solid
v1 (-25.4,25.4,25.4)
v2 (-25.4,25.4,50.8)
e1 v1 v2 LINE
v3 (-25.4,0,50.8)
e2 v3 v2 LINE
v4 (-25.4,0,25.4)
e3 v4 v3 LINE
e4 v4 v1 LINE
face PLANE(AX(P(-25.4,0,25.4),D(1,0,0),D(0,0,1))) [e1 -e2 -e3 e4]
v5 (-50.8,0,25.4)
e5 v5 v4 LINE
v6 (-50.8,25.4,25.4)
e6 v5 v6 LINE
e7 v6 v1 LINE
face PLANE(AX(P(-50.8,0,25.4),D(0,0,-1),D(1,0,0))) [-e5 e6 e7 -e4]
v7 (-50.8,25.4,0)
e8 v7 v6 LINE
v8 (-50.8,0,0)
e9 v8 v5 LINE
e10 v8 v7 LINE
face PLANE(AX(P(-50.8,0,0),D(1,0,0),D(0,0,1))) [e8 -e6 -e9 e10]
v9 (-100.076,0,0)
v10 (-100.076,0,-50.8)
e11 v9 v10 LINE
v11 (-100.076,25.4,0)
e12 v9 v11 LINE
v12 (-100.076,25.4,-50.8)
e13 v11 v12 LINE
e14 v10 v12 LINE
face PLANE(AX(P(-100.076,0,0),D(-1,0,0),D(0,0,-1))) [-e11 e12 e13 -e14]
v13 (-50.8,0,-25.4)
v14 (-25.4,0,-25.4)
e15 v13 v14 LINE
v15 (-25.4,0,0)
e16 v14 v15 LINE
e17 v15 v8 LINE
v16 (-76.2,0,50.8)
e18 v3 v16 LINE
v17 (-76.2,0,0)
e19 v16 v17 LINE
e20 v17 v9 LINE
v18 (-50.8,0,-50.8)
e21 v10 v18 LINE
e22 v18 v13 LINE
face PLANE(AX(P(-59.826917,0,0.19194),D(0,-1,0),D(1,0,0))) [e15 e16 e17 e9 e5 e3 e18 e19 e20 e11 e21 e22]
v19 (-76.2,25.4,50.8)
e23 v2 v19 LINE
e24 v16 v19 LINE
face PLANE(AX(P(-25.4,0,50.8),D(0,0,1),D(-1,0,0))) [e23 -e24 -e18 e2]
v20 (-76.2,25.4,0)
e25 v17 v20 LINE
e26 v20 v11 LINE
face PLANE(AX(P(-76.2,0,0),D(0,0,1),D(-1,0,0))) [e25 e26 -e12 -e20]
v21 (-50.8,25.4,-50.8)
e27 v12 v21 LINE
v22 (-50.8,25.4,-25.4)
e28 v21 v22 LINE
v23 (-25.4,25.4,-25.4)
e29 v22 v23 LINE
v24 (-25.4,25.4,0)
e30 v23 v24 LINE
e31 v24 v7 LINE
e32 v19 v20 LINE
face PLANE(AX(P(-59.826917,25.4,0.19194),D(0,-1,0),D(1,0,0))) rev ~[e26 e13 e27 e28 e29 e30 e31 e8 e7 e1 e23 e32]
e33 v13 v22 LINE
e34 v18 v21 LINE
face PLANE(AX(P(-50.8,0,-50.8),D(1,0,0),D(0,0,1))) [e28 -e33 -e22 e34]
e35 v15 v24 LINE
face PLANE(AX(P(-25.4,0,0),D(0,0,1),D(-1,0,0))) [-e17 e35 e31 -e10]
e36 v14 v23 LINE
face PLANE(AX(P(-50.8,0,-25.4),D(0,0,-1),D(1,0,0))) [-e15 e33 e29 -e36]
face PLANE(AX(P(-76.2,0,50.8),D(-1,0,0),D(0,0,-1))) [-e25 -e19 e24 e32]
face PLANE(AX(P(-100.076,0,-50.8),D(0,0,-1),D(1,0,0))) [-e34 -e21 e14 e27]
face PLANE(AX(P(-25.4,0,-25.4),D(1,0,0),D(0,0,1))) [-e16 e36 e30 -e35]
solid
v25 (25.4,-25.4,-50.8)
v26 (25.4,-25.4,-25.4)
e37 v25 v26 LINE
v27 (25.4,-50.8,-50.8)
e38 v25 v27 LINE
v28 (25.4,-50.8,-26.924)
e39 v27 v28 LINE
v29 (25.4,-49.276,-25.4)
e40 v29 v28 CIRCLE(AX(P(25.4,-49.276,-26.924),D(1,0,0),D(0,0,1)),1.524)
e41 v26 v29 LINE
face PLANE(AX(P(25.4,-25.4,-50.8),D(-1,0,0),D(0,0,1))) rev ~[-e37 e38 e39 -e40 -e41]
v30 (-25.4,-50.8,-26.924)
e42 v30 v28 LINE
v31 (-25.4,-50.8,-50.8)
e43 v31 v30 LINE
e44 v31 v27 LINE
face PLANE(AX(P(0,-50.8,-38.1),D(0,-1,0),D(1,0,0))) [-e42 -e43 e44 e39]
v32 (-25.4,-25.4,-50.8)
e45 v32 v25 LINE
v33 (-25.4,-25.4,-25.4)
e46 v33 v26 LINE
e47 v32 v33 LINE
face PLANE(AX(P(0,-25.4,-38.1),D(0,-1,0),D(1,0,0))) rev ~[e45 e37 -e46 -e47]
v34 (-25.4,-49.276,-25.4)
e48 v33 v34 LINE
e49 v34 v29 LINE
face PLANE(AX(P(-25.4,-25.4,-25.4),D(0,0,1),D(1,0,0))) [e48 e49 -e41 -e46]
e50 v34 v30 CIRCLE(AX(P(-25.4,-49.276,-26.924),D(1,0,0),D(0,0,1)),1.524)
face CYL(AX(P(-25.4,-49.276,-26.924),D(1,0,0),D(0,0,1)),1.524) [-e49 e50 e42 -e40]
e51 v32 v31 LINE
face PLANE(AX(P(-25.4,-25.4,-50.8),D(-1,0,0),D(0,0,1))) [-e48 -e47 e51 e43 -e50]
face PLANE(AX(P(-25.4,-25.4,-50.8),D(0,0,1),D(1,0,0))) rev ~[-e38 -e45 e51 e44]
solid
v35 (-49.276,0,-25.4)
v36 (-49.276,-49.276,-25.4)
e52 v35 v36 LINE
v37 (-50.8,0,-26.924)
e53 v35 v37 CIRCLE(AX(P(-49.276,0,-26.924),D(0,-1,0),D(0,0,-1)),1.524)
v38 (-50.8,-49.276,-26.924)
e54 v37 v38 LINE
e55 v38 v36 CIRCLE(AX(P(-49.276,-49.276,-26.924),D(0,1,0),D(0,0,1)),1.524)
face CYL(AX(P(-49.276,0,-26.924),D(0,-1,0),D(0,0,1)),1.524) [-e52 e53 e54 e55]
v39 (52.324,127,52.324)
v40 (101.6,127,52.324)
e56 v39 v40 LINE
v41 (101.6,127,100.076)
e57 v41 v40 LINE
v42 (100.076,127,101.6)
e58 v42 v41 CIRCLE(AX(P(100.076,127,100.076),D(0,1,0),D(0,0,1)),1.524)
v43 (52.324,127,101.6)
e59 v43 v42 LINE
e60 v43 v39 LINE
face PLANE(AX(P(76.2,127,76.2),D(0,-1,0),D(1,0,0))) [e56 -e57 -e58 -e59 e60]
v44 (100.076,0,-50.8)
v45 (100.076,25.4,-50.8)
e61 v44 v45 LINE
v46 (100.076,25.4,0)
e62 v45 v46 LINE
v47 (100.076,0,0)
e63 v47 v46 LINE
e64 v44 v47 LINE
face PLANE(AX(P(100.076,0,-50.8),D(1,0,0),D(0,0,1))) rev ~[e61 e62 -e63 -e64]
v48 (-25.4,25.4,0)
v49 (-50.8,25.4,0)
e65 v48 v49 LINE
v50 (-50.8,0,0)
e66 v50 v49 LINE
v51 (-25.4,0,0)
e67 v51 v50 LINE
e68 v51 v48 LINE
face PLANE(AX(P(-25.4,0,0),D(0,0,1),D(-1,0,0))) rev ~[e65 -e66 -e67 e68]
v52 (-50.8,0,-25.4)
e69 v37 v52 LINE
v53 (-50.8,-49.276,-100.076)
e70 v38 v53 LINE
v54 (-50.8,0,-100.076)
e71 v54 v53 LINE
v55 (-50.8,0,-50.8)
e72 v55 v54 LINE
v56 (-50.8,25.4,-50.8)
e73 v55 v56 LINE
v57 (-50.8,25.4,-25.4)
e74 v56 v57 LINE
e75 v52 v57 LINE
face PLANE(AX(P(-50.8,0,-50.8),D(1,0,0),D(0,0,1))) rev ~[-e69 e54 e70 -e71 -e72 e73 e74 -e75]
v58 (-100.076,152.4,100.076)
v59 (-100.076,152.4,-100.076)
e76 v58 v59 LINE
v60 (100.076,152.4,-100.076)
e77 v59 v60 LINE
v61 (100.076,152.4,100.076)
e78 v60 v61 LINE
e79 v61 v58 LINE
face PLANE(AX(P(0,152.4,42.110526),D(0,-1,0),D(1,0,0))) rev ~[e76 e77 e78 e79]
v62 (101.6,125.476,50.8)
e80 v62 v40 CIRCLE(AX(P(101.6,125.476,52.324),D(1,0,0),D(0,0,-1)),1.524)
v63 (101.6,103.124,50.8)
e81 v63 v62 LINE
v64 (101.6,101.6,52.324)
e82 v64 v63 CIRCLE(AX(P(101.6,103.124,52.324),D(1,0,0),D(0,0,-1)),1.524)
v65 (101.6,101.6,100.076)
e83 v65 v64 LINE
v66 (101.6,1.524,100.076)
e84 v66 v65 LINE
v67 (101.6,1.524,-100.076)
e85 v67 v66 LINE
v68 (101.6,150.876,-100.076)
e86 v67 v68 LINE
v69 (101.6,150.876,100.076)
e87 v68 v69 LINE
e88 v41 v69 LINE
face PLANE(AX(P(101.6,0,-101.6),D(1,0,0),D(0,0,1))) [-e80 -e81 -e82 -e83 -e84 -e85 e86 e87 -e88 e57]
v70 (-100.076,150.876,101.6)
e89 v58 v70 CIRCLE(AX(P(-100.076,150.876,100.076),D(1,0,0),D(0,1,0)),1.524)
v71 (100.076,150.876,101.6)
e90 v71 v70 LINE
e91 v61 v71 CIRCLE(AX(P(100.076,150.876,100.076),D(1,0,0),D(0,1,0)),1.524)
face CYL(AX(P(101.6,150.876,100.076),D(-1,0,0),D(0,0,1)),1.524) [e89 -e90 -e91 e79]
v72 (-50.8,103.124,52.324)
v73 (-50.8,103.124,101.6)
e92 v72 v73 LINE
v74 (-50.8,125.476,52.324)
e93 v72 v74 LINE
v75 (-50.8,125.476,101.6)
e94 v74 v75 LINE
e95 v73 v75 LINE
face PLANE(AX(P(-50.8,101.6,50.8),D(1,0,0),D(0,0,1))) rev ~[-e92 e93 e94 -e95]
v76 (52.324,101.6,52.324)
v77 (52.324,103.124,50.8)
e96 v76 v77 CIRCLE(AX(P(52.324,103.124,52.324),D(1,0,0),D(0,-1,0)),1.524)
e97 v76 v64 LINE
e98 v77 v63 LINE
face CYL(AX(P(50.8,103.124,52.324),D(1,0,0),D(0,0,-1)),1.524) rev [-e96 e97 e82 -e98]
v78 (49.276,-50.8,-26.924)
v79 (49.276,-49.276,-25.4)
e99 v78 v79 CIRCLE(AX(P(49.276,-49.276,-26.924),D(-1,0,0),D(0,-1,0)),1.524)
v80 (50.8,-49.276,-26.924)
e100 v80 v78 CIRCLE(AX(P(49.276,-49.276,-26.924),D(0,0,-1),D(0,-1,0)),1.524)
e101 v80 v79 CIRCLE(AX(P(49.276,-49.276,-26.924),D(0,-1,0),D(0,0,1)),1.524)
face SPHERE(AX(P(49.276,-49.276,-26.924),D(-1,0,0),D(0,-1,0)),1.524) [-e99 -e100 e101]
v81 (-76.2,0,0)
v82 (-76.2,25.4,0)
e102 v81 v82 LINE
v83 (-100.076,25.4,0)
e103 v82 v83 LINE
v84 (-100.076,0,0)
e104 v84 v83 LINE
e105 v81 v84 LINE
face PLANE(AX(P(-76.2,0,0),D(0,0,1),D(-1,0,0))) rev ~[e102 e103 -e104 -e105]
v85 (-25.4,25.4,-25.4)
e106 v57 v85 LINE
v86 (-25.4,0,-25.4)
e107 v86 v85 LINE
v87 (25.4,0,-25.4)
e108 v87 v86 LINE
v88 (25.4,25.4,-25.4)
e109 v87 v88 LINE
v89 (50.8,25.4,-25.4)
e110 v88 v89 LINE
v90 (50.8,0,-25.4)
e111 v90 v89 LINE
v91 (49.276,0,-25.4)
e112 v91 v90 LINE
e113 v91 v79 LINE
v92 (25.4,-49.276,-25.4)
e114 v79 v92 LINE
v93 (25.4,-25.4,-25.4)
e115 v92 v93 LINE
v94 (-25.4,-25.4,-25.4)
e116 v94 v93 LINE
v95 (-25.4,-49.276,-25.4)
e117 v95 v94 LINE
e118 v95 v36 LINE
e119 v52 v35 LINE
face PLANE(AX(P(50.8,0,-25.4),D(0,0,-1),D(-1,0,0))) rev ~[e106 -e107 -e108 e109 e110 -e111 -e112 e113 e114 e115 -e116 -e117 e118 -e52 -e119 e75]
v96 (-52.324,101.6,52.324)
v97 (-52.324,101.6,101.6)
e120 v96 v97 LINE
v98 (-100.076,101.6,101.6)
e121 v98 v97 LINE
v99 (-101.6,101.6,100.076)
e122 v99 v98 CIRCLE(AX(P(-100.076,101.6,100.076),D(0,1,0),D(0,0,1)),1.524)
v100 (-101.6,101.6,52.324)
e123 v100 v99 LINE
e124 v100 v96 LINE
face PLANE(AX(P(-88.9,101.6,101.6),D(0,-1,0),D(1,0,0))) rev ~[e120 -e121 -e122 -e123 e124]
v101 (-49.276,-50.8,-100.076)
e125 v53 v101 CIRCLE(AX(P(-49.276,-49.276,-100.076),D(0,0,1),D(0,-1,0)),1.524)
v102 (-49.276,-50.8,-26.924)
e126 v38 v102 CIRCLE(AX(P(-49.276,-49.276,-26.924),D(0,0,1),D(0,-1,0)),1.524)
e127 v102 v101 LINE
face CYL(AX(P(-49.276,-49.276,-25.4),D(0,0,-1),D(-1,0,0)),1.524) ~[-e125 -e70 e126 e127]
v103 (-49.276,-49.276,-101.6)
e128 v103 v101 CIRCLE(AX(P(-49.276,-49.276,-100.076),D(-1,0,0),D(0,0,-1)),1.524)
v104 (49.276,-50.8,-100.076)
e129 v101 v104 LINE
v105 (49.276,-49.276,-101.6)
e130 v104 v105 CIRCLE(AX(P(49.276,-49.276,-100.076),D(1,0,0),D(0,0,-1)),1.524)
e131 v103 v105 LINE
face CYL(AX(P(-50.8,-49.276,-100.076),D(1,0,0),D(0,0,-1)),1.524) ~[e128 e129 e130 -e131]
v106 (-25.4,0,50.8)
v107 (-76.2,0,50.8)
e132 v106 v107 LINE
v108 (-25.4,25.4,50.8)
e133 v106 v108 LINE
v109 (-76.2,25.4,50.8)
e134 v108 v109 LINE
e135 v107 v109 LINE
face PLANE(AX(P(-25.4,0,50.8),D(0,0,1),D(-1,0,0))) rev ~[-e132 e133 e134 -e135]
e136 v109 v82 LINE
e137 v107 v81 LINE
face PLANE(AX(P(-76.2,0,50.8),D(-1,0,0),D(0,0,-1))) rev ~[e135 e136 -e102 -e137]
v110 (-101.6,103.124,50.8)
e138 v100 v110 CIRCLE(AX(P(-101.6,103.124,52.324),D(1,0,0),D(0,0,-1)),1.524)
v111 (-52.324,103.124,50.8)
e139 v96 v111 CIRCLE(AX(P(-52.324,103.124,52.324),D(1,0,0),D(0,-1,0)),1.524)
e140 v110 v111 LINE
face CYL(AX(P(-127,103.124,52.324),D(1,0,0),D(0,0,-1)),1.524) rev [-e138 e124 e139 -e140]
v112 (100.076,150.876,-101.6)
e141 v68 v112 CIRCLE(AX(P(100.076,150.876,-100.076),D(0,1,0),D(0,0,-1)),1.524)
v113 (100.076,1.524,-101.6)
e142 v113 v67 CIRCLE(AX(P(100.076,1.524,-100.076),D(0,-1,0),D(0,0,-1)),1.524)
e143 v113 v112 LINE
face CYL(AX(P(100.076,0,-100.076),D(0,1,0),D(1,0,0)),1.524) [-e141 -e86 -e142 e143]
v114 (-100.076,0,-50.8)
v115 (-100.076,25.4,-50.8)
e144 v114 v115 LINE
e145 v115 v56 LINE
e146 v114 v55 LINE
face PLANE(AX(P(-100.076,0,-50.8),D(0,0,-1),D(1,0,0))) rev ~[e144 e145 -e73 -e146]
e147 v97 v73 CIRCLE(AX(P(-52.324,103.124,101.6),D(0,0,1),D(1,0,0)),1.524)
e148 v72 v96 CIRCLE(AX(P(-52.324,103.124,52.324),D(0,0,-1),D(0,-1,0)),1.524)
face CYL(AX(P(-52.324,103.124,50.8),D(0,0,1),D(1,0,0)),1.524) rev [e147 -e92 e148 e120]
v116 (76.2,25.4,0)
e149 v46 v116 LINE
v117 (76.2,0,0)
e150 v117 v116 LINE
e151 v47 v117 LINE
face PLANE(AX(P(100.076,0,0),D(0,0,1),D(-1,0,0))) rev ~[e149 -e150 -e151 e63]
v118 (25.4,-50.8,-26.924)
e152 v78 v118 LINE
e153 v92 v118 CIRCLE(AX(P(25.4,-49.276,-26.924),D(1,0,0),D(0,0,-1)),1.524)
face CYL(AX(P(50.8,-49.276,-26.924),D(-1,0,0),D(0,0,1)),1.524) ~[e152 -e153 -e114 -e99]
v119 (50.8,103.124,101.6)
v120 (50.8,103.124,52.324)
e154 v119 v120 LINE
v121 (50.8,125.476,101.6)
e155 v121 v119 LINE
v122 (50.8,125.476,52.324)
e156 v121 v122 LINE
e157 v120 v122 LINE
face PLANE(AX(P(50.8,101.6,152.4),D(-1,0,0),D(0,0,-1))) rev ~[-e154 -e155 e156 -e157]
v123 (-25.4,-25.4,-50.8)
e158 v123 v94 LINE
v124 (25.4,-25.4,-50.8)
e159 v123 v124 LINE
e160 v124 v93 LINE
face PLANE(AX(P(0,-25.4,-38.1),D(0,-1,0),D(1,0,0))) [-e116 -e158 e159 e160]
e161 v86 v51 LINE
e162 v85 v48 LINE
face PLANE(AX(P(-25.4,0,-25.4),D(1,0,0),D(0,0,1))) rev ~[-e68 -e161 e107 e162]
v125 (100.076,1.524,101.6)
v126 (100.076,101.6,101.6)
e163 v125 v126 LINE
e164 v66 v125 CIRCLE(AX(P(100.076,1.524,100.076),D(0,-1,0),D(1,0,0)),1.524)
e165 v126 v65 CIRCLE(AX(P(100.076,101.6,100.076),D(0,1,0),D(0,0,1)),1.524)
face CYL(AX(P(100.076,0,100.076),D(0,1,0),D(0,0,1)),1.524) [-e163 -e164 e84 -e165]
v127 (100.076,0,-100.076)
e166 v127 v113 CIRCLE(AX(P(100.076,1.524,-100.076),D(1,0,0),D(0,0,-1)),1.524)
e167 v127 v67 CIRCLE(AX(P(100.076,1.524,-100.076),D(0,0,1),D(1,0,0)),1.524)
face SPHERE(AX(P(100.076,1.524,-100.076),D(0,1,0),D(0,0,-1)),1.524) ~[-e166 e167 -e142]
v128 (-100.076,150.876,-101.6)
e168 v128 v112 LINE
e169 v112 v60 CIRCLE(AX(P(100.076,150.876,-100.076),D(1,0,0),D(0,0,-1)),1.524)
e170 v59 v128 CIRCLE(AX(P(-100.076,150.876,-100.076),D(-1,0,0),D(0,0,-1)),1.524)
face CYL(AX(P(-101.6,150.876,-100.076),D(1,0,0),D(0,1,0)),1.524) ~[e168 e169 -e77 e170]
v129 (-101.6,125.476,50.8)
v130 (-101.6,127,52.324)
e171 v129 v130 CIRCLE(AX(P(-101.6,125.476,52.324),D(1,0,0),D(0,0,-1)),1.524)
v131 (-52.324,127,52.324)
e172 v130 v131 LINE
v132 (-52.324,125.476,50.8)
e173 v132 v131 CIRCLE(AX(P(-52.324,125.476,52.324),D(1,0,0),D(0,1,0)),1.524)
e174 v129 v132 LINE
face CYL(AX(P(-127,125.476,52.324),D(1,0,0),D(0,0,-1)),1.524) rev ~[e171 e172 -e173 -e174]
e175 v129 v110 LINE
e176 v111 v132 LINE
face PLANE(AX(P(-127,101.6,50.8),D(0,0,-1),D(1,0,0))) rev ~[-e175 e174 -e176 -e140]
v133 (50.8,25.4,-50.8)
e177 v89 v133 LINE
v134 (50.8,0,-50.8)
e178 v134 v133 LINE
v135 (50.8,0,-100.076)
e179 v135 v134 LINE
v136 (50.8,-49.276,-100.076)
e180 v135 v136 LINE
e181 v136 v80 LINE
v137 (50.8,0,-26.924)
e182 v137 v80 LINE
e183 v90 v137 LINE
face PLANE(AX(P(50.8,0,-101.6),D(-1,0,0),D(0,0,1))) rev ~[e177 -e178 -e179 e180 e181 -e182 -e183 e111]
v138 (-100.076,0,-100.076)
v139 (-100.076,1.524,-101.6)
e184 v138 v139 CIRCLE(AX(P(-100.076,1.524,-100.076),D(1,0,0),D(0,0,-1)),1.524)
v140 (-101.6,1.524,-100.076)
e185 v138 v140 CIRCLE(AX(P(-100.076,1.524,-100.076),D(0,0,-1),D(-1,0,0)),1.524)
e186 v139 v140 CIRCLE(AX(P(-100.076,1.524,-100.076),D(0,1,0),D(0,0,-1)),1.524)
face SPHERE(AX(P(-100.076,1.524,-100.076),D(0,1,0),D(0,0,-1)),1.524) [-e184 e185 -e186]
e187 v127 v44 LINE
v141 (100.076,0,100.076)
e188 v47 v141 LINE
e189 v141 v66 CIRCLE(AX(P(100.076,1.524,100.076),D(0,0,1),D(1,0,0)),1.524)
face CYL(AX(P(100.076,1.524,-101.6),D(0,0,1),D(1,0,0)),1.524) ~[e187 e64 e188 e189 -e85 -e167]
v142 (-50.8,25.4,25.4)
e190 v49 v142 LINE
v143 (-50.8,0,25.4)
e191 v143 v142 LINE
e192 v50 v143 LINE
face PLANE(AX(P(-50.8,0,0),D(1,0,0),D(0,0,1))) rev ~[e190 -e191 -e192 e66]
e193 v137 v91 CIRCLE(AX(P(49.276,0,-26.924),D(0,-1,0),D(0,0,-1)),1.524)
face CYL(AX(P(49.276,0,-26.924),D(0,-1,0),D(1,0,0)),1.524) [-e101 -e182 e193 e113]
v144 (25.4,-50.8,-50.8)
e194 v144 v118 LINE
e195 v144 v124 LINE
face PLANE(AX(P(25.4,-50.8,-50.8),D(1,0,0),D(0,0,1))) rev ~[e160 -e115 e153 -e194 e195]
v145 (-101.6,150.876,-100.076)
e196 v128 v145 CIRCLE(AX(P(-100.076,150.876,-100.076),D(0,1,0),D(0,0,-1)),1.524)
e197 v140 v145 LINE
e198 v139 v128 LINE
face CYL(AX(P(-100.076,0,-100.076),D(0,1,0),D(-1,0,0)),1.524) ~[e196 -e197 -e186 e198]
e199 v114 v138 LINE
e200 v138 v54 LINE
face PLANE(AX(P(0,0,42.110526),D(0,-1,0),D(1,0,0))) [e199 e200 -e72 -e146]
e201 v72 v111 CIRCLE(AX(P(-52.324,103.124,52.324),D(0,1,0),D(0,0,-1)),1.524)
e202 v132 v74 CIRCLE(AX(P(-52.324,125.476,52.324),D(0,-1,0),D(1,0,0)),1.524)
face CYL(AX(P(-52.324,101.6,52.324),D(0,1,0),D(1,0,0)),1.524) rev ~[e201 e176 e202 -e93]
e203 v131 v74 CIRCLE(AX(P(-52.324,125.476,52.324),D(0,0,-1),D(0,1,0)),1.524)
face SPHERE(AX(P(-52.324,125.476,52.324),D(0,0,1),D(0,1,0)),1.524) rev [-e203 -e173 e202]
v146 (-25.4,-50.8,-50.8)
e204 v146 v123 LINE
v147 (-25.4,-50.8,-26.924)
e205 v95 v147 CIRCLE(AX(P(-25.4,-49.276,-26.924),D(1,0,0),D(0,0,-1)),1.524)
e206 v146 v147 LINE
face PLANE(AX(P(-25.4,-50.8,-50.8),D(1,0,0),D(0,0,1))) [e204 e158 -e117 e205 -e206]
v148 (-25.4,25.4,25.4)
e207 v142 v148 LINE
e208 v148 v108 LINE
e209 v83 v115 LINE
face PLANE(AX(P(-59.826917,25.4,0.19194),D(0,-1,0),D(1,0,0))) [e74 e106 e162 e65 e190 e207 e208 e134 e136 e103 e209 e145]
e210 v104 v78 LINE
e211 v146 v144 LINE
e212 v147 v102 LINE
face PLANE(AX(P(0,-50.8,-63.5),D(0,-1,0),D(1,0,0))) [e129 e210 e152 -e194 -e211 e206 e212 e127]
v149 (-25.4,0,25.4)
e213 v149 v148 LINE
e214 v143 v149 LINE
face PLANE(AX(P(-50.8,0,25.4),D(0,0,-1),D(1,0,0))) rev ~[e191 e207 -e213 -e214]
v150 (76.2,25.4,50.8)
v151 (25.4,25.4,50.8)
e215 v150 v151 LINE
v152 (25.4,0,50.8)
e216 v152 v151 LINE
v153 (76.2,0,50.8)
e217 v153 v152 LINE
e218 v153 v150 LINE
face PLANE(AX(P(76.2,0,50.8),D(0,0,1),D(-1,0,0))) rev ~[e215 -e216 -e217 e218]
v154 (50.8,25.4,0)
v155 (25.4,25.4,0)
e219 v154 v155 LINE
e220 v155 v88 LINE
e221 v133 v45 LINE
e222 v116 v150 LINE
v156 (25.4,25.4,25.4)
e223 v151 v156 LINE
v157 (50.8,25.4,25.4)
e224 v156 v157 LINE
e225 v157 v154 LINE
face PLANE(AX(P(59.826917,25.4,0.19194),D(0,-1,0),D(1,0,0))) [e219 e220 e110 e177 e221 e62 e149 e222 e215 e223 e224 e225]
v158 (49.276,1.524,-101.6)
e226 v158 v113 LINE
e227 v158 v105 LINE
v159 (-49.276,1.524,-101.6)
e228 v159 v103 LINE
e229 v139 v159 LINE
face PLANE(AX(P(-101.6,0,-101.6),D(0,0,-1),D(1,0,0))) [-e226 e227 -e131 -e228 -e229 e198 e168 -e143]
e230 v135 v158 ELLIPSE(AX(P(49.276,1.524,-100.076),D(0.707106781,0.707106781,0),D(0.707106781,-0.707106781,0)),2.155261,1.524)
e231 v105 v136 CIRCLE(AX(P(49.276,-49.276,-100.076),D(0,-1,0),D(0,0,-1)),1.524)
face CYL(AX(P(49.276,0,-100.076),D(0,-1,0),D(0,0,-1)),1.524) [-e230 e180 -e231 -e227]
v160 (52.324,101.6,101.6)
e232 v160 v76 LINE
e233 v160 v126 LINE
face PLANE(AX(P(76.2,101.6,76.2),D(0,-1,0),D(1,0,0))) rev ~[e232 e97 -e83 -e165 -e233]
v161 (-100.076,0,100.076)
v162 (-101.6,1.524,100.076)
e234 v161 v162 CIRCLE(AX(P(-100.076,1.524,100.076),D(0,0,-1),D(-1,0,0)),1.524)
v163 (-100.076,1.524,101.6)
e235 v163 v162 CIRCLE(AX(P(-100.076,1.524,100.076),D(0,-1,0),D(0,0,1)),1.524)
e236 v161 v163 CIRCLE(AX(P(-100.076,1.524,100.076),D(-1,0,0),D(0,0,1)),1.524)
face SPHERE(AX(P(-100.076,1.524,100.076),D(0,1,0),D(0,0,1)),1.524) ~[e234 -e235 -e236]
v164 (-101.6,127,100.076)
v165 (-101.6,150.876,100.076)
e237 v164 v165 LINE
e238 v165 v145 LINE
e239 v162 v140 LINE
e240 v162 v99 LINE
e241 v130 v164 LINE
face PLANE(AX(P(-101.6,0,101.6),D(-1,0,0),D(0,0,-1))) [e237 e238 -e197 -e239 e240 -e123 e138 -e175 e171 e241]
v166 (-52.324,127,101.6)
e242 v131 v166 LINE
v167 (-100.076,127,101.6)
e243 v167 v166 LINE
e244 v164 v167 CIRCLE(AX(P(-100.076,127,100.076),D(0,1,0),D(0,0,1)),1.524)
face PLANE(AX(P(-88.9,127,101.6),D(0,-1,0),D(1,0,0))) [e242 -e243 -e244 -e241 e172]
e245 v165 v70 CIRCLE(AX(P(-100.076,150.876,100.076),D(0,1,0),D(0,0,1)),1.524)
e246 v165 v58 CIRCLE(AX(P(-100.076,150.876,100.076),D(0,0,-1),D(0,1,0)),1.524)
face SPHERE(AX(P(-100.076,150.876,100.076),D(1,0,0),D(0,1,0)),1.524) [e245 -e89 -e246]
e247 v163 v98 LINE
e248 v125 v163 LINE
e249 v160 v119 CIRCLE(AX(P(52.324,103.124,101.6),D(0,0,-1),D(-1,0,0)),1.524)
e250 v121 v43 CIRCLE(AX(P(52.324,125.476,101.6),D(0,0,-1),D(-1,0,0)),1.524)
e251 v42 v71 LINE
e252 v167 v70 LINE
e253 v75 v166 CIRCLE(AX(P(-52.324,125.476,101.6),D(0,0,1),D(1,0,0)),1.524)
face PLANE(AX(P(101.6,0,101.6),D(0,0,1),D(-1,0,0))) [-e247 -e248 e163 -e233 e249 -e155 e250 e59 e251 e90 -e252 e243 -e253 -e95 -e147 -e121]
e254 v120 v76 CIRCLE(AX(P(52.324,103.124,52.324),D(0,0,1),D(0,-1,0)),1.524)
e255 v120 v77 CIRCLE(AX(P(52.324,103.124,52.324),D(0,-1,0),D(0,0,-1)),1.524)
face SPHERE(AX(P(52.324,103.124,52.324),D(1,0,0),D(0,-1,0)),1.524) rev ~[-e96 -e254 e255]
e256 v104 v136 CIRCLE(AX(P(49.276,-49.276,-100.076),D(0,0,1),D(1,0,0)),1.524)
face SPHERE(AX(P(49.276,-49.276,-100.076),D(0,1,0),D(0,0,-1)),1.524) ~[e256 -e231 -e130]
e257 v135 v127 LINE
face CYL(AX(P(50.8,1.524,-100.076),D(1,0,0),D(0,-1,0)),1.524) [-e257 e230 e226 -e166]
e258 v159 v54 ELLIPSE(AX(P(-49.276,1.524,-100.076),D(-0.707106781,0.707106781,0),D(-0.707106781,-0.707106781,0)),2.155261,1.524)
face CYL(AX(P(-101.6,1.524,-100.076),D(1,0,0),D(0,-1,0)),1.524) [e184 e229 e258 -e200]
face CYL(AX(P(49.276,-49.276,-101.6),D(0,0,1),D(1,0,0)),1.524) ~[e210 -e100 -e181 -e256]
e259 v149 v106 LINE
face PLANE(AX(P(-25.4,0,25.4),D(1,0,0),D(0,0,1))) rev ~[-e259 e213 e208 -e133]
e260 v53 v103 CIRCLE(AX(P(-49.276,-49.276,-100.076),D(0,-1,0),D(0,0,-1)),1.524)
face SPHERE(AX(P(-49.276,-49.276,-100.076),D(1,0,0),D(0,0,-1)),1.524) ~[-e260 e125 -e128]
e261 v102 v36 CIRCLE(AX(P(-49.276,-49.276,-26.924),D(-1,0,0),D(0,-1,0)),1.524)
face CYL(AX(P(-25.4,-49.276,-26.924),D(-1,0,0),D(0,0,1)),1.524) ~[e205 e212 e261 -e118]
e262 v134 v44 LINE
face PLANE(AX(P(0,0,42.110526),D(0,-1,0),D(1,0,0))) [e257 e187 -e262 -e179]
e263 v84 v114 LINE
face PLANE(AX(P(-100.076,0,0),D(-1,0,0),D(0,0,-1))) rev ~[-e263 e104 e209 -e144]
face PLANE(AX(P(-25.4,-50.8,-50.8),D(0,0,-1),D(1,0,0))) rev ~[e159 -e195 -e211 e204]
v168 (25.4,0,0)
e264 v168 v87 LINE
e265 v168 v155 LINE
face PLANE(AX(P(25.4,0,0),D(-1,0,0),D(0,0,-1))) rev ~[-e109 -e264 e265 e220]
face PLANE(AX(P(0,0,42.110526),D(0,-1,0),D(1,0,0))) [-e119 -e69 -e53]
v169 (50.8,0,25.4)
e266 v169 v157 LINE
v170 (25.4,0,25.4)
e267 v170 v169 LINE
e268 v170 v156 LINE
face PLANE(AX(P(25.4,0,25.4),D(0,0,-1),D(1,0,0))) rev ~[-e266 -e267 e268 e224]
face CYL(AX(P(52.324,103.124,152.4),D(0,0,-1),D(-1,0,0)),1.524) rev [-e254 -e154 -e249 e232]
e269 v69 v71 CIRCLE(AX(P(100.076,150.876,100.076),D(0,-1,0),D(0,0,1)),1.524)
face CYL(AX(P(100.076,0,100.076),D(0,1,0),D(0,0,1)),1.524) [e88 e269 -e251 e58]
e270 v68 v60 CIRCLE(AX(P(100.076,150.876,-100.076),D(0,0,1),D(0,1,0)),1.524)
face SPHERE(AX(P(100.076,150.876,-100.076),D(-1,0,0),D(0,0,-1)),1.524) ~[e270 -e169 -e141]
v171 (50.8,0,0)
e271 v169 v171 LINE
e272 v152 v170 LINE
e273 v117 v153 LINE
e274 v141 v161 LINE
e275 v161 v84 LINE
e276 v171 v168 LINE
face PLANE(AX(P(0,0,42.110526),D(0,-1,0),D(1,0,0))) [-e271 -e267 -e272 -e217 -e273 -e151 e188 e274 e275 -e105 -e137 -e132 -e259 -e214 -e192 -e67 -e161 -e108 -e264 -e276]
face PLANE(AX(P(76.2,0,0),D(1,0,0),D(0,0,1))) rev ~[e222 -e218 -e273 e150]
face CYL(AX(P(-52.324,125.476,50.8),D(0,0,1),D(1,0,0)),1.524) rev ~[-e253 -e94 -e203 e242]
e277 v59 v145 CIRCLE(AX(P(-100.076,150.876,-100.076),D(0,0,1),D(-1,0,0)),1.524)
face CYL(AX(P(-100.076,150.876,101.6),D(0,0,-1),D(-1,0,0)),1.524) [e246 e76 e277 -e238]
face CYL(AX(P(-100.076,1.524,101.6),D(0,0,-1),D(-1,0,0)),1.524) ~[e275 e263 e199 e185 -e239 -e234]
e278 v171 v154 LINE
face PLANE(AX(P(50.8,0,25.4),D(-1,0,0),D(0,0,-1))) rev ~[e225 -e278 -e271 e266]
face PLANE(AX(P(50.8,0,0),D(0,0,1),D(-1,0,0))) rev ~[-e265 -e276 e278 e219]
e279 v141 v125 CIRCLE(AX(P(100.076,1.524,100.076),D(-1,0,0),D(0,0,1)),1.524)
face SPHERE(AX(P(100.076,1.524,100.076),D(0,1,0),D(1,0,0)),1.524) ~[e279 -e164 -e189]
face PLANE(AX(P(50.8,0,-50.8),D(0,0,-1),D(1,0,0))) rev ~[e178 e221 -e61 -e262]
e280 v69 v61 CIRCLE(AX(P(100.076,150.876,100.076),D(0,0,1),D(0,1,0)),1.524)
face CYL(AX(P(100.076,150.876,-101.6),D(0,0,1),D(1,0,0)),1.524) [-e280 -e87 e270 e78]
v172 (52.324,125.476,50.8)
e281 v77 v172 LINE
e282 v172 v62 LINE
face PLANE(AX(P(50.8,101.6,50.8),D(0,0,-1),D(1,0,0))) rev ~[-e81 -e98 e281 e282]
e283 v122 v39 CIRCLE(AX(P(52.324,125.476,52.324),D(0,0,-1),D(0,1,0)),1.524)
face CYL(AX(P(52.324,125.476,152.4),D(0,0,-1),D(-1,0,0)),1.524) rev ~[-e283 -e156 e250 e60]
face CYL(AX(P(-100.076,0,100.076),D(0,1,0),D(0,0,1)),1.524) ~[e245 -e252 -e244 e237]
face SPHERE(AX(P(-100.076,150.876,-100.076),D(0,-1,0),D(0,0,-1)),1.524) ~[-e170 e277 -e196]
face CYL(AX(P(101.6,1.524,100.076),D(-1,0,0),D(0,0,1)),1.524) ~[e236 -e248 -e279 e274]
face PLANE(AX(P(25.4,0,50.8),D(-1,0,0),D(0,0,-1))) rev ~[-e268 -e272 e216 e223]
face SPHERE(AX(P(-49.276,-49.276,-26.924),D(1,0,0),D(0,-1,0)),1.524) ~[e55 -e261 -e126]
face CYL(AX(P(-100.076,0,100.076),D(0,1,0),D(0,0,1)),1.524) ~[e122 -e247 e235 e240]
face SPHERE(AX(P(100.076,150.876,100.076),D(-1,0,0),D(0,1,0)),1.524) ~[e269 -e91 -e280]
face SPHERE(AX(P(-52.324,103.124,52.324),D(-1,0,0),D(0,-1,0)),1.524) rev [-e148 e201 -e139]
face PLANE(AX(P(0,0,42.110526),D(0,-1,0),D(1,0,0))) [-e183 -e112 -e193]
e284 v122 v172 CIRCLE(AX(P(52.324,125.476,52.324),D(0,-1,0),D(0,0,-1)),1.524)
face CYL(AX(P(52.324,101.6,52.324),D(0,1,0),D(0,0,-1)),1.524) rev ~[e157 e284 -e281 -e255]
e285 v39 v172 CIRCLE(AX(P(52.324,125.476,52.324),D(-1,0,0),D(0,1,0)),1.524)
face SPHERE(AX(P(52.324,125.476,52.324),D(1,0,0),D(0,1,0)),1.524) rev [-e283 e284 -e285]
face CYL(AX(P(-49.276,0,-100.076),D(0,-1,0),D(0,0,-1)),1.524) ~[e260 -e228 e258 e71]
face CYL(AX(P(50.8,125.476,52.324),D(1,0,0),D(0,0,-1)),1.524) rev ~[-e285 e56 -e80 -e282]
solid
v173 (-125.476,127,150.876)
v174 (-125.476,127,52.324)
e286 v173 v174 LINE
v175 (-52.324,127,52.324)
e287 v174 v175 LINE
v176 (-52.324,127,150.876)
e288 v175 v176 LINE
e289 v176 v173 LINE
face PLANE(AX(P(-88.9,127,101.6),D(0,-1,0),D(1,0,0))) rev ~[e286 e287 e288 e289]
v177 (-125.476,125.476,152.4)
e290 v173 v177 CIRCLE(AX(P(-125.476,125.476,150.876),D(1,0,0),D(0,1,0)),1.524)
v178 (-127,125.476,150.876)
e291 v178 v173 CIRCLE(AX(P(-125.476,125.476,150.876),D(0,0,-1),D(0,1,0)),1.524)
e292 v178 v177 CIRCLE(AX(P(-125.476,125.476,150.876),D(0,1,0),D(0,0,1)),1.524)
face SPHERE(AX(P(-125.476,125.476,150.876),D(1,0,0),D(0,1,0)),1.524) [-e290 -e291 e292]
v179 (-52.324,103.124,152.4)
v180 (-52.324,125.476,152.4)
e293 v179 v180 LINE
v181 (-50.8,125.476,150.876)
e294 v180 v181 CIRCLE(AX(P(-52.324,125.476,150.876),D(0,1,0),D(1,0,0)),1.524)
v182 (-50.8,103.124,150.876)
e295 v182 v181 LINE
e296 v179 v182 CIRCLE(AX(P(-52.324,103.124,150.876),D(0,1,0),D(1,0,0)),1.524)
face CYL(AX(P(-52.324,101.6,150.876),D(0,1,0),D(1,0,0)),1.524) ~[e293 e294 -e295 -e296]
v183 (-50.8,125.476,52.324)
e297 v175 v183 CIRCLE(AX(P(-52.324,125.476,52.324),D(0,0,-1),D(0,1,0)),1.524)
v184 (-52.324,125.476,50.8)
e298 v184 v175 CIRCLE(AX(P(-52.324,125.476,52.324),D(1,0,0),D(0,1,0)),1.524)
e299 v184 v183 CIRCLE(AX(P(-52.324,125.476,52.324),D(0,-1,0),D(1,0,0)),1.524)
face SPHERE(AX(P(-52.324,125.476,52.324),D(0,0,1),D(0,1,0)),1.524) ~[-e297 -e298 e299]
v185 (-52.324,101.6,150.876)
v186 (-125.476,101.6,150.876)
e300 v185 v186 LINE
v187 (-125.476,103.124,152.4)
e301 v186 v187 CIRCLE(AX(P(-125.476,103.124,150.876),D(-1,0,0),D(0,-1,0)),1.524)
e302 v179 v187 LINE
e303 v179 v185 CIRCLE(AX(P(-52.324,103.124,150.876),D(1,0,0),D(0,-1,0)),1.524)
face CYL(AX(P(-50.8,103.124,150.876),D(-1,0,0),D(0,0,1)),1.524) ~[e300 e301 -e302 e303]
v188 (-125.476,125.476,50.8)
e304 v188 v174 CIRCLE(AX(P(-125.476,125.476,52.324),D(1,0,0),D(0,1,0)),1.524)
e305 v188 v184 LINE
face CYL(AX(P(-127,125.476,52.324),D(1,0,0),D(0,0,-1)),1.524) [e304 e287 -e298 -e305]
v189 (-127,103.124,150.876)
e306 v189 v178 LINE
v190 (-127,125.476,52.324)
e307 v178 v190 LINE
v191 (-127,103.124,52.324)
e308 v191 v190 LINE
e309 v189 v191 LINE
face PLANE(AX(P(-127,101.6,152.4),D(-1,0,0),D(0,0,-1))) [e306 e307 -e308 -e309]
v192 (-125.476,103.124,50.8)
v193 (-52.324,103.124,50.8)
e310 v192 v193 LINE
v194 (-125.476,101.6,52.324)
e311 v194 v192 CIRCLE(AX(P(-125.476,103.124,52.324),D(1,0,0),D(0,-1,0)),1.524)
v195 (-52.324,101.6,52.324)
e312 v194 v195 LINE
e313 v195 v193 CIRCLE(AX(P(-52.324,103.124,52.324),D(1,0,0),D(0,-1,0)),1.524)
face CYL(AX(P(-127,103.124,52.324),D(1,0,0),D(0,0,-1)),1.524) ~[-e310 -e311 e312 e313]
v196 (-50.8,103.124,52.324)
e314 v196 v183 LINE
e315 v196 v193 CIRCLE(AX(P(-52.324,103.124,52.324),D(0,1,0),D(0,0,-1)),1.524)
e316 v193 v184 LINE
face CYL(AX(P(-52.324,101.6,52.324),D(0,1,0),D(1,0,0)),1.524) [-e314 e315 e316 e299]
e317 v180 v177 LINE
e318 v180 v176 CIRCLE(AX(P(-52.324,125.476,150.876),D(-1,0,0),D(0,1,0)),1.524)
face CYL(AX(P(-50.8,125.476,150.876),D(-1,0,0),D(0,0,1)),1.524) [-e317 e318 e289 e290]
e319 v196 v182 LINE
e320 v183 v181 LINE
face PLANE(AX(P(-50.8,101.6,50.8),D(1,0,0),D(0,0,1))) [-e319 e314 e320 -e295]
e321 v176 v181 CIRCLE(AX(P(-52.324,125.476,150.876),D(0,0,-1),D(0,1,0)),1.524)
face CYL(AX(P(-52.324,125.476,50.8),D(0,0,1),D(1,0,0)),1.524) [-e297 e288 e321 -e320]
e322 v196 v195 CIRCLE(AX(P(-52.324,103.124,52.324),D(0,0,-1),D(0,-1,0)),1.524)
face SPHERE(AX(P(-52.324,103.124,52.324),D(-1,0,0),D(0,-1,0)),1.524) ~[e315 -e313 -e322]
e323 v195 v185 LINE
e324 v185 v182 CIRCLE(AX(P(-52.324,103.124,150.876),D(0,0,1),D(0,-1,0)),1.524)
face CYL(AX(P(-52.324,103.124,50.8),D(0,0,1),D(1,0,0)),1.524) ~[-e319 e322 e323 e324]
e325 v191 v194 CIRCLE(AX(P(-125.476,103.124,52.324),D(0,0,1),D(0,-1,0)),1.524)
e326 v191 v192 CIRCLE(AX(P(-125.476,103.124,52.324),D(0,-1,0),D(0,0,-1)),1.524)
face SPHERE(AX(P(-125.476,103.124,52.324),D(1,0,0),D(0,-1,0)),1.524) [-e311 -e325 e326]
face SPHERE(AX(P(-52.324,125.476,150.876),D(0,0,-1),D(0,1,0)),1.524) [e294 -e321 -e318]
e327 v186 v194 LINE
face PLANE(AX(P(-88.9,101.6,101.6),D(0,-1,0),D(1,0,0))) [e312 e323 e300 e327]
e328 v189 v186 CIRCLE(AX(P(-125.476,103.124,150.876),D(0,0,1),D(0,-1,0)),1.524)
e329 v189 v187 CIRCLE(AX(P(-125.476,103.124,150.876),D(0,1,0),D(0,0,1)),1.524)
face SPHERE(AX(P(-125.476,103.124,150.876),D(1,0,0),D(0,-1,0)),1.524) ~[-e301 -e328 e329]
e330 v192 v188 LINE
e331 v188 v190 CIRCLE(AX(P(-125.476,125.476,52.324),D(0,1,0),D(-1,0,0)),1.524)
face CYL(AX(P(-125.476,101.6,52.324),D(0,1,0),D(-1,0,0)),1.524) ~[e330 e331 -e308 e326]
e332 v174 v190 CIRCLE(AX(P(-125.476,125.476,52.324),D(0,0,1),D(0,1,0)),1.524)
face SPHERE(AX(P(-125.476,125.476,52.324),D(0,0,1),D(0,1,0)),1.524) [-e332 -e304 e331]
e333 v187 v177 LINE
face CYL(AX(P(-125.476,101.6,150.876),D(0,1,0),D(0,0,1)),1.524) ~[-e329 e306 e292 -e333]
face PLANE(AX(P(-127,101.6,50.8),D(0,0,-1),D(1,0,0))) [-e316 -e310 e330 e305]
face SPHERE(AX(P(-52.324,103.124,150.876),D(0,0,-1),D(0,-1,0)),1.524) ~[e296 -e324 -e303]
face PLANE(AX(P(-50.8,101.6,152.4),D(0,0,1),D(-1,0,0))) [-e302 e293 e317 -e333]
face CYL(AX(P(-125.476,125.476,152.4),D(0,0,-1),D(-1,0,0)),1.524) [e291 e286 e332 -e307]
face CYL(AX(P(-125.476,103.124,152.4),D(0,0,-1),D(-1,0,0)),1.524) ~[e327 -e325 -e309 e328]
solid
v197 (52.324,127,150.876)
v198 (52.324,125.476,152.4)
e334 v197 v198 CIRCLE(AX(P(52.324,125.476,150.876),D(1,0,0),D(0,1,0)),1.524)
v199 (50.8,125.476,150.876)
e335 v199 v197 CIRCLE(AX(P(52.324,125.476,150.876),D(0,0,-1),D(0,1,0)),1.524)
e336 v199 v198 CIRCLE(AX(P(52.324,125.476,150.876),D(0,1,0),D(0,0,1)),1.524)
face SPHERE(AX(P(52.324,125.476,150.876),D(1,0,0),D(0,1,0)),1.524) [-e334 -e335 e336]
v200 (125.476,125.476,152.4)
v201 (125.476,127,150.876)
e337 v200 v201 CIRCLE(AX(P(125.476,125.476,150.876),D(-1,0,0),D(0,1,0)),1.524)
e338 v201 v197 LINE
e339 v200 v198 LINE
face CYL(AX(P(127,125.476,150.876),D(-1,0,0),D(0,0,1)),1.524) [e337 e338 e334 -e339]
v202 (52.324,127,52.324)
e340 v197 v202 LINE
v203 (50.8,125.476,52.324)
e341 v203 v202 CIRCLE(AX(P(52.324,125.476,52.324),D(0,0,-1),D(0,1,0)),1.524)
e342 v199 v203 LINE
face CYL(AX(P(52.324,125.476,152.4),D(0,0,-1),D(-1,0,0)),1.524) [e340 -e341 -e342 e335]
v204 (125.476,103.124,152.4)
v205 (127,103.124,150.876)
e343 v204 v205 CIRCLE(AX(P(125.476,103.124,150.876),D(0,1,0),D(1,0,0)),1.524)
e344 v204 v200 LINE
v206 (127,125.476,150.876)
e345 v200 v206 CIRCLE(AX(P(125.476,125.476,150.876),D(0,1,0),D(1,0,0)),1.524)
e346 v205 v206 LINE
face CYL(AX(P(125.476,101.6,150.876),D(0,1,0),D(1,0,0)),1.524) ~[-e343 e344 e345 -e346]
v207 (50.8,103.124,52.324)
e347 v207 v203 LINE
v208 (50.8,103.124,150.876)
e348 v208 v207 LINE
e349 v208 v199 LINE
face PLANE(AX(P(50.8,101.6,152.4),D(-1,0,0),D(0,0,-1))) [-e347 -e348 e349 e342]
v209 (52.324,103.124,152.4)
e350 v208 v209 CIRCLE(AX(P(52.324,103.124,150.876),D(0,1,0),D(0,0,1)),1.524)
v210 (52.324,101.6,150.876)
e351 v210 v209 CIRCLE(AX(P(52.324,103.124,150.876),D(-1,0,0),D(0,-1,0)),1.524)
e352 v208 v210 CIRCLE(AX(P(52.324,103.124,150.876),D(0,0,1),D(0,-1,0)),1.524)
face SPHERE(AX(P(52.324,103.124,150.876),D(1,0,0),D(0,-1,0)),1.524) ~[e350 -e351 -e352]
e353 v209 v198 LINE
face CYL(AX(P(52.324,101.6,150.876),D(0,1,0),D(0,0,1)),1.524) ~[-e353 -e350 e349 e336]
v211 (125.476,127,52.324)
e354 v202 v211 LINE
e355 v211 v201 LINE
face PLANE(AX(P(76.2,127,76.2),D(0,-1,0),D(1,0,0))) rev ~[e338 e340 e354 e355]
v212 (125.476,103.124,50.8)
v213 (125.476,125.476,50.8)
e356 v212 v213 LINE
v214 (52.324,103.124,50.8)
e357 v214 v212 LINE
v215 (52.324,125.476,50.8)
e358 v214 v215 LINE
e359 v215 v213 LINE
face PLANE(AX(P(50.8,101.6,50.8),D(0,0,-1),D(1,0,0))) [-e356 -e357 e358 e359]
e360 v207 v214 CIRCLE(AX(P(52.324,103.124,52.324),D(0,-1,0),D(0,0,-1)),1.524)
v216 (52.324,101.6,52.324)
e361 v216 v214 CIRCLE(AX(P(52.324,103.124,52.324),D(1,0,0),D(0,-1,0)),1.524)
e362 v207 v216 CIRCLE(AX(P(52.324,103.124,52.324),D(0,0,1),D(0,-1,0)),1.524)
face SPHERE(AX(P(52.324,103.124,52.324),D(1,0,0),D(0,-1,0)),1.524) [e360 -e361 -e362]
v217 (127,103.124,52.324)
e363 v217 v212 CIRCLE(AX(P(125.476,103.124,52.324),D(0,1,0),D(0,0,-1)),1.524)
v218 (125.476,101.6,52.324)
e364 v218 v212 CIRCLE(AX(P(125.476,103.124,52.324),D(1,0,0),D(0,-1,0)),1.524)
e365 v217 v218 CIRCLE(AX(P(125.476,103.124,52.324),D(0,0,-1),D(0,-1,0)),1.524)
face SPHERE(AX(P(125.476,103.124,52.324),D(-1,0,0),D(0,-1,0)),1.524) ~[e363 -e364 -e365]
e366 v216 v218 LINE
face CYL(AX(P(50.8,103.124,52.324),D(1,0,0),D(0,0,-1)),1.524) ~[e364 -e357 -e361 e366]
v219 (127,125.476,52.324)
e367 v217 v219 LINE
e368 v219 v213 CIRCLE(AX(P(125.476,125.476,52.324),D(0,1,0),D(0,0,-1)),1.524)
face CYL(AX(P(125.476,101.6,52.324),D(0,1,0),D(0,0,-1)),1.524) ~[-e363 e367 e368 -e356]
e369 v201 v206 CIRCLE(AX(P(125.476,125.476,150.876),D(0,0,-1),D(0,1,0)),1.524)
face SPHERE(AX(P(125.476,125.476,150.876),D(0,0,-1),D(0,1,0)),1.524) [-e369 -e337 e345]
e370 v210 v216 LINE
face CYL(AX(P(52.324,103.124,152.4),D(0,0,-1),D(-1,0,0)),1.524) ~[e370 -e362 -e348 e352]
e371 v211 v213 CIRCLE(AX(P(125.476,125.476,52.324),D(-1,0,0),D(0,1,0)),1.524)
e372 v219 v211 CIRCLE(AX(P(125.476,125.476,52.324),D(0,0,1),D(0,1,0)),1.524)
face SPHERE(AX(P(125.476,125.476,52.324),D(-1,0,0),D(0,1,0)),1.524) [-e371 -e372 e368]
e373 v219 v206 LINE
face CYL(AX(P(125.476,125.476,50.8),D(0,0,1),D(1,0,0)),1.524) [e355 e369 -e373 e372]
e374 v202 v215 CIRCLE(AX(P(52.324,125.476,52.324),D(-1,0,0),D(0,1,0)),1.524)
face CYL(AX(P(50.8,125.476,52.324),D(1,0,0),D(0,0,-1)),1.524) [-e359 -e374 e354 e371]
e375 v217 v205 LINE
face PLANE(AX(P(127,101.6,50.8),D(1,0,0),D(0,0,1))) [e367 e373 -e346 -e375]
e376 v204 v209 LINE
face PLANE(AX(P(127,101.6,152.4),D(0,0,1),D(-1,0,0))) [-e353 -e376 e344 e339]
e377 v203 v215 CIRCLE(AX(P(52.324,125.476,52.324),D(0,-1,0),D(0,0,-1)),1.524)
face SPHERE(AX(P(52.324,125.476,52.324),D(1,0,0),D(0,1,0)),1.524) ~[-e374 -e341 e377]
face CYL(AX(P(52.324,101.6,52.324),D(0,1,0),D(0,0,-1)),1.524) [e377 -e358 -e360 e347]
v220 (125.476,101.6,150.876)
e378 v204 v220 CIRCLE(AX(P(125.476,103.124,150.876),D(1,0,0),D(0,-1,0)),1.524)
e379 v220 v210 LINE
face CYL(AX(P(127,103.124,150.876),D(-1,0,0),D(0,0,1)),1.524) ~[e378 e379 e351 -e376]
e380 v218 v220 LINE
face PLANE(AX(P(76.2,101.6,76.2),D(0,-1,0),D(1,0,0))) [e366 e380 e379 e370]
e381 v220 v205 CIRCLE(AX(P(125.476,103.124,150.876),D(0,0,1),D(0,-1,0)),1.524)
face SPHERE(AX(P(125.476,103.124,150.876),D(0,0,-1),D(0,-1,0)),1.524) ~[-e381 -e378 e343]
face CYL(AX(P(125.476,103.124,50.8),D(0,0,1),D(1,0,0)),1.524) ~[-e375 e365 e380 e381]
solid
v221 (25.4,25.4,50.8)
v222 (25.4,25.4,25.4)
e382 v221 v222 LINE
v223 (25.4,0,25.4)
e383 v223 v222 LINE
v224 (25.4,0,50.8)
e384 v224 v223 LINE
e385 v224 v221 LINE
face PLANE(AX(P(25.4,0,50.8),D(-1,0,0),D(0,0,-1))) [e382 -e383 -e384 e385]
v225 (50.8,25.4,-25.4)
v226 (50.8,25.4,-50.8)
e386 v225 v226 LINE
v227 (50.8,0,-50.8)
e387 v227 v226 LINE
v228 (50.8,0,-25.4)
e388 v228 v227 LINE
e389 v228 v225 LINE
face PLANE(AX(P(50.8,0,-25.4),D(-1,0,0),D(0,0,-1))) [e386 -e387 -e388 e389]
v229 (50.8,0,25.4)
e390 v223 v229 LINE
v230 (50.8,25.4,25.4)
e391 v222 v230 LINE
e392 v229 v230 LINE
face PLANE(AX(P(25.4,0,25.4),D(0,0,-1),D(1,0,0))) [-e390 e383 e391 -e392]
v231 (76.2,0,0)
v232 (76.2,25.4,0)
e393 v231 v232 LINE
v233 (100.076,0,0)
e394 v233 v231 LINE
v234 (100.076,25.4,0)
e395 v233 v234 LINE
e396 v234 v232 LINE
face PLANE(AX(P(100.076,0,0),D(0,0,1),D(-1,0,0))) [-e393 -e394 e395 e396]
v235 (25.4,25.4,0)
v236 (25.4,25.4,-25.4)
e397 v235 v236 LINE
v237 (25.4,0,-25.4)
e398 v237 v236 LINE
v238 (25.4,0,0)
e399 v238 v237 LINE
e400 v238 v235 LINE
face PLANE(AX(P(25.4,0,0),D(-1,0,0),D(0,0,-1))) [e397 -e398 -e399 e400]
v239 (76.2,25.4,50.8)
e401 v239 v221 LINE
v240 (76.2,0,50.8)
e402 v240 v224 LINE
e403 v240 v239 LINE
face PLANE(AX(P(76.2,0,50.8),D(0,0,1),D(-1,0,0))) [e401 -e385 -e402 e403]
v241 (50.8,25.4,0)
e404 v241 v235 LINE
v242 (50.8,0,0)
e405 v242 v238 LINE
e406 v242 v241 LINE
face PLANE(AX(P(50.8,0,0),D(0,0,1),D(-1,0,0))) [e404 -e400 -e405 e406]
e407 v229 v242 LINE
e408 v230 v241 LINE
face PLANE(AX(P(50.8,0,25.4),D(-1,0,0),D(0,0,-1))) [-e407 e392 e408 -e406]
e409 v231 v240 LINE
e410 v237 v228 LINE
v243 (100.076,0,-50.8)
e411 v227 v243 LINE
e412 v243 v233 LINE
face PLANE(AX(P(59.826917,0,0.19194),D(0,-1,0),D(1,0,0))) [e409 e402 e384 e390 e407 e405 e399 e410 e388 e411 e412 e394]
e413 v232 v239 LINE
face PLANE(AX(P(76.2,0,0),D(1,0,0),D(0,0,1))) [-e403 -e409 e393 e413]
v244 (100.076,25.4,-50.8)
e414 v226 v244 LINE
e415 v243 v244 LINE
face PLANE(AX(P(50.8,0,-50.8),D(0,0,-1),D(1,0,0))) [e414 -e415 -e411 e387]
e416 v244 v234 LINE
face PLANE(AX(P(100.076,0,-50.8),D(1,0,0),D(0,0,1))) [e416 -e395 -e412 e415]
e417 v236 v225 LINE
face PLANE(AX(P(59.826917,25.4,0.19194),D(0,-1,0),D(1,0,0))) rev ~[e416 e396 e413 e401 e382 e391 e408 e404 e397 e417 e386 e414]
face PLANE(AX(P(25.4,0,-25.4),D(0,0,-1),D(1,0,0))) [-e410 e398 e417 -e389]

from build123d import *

# Parameters (mm, degrees)
F0_W      = 50.8
F0_H      = 50.8
F1_DEPTH  = 152.4
F2_DEPTH  = 50.8
F3_W      = 50.8
F3_H      = 25.4
F4_DEPTH  = 25.4
F5_DEPTH  = 25.4
F7_W      = 50.8
F7_H      = 50.8
F8_DEPTH  = 25.4
F9_R      = 1.524
F9_2_R    = 1.524
F9_3_R    = 1.524
F9_4_R    = 1.524
F12_DEPTH = 25.4
F13_DEPTH = 25.4


with BuildPart() as f1:
    # F0 (on Front) → F1 (new body)
    with BuildSketch(Plane.XZ):
        Polygon((25.4, 25.4), (25.4, 50.8), (76.2, 50.8), (76.2, 0), (101.6, 0), (101.6, 101.6), (-101.6, 101.6), (-101.6, 0), (-76.2, 0), (-76.2, 50.8), (-25.4, 50.8), (-25.4, 25.4), (-50.8, 25.4), (-50.8, 0), (-25.4, 0), (-25.4, -25.4), (25.4, -25.4), (25.4, 0), (50.8, 0), (50.8, 25.4), align=None)
        Polygon((-50.8, -25.4), (-25.4, -25.4), (-25.4, 0), (-50.8, 0), (-50.8, 25.4), (-25.4, 25.4), (-25.4, 50.8), (-76.2, 50.8), (-76.2, 0), (-101.6, 0), (-101.6, -50.8), (-50.8, -50.8), align=None)
        Polygon((76.2, 50.8), (25.4, 50.8), (25.4, 25.4), (50.8, 25.4), (50.8, 0), (25.4, 0), (25.4, -25.4), (50.8, -25.4), (50.8, -50.8), (101.6, -50.8), (101.6, 0), (76.2, 0), align=None)
        with Locations((-76.2, -76.2)):
            Rectangle(F0_W, F0_H)
        Polygon((50.8, -25.4), (25.4, -25.4), (-25.4, -25.4), (-50.8, -25.4), (-50.8, -50.8), (-50.8, -101.6), (50.8, -101.6), (50.8, -50.8), align=None)
        with Locations((76.2, -76.2)):
            Rectangle(F0_W, F0_H)
    extrude(amount=-F1_DEPTH)

    # F0 (on Front) → F2 (join)
    with BuildSketch(Plane.XZ):
        Polygon((50.8, -25.4), (25.4, -25.4), (-25.4, -25.4), (-50.8, -25.4), (-50.8, -50.8), (-50.8, -101.6), (50.8, -101.6), (50.8, -50.8), align=None)
    extrude(amount=F2_DEPTH)

    # F3 (on face) → F4 (cut)
    with BuildSketch(Plane.XZ.offset(50.8)):
        with Locations((0, -38.1)):
            Rectangle(F3_W, F3_H)
    extrude(amount=-F4_DEPTH, mode=Mode.SUBTRACT)


with BuildPart() as f5:
    # F5 (new): a face of the model
    f5_faces = [f1.part.faces().sort_by_distance(p)[0] for p in [
        (0, -25.4, -38.1),
    ]]
    extrude(f5_faces, amount=F5_DEPTH)

    # F9#2
    f9_2_edges = [f5.edges().sort_by_distance(p)[0] for p in [
        (0, -50.8, -25.4),
    ]]
    fillet(f9_2_edges, radius=F9_2_R)


with BuildPart() as f8:
    # F7 (on offset) → F8 (new body)
    with BuildSketch(Plane.XZ.offset(-101.6)):
        with Locations((76.2, 76.2)):
            Rectangle(F7_W, F7_H)
        Polygon((50.8, 152.4), (50.8, 101.6), (101.6, 101.6), (101.6, 50.8), (127, 50.8), (127, 152.4), align=None)
    extrude(amount=-F8_DEPTH)

    # F9#3
    f9_3_edges = [f8.edges().sort_by_distance(p)[0] for p in [
        (88.9, 101.6, 50.8),
        (127, 101.6, 101.6),
        (88.9, 101.6, 152.4),
        (50.8, 101.6, 101.6),
        (88.9, 127, 50.8),
        (127, 127, 101.6),
        (88.9, 127, 152.4),
        (50.8, 127, 101.6),
        (50.8, 114.3, 50.8),
        (127, 114.3, 50.8),
        (127, 114.3, 152.4),
        (50.8, 114.3, 152.4),
    ]]
    fillet(f9_3_edges, radius=F9_3_R)


with BuildPart() as f8b:
    # F7 (on offset) → F8, piece 2 (new body)
    with BuildSketch(Plane.XZ.offset(-101.6)):
        Polygon((-101.6, 50.8), (-50.8, 50.8), (-50.8, 101.6), (-50.8, 152.4), (-127, 152.4), (-127, 50.8), align=None)
    extrude(amount=-F8_DEPTH)

    # F9#4
    f9_4_edges = [f8b.edges().sort_by_distance(p)[0] for p in [
        (-50.8, 127, 101.6),
        (-88.9, 127, 152.4),
        (-127, 127, 101.6),
        (-88.9, 127, 50.8),
        (-88.9, 101.6, 50.8),
        (-50.8, 101.6, 101.6),
        (-88.9, 101.6, 152.4),
        (-127, 101.6, 101.6),
        (-50.8, 114.3, 50.8),
        (-127, 114.3, 50.8),
        (-50.8, 114.3, 152.4),
        (-127, 114.3, 152.4),
    ]]
    fillet(f9_4_edges, radius=F9_4_R)


with BuildPart() as f1_1:
    add(f1.part)

    # F9
    f9_edges = [f1_1.edges().sort_by_distance(p)[0] for p in [
        (-38.1, -50.8, -25.4),
        (38.1, -50.8, -25.4),
        (-101.6, 76.2, -101.6),
        (0, 152.4, -101.6),
        (101.6, 76.2, -101.6),
        (76.2, 0, -101.6),
        (50.8, -25.4, -101.6),
        (0, -50.8, -101.6),
        (-50.8, -25.4, -101.6),
        (-76.2, 0, -101.6),
        (0, 152.4, 101.6),
        (-101.6, 152.4, 0),
        (101.6, 152.4, 0),
        (-101.6, 76.2, 101.6),
        (101.6, 76.2, 101.6),
        (50.8, -50.8, -63.5),
        (50.8, -25.4, -25.4),
        (-50.8, -50.8, -63.5),
        (-50.8, -25.4, -25.4),
        (101.6, 0, 0),
        (0, 0, 101.6),
        (-101.6, 0, 0),
    ]]
    fillet(f9_edges, radius=F9_R)

    # F10: cut F8, F8b
    add(f8.part, mode=Mode.SUBTRACT)
    add(f8b.part, mode=Mode.SUBTRACT)

    # F11 (on Front) → F12 (cut)
    with BuildSketch(Plane.XZ):
        Polygon((-76.2, 50.8), (-76.2, 0), (-100.076, 0), (-100.076, -50.8), (-50.8, -50.8), (-50.8, -25.4), (-25.4, -25.4), (-25.4, 0), (-50.8, 0), (-50.8, 25.4), (-25.4, 25.4), (-25.4, 50.8), align=None)
        Polygon((100.076, -50.8), (100.076, 0), (76.2, 0), (76.2, 50.8), (25.4, 50.8), (25.4, 25.4), (50.8, 25.4), (50.8, 0), (25.4, 0), (25.4, -25.4), (50.8, -25.4), (50.8, -50.8), align=None)
    extrude(amount=-F12_DEPTH, mode=Mode.SUBTRACT)


with BuildPart() as f13:
    # F11 (on Front) → F13 (new body)
    with BuildSketch(Plane.XZ):
        Polygon((-76.2, 50.8), (-76.2, 0), (-100.076, 0), (-100.076, -50.8), (-50.8, -50.8), (-50.8, -25.4), (-25.4, -25.4), (-25.4, 0), (-50.8, 0), (-50.8, 25.4), (-25.4, 25.4), (-25.4, 50.8), align=None)
    extrude(amount=-F13_DEPTH)


with BuildPart() as f13b:
    # F11 (on Front) → F13, piece 2 (new body)
    with BuildSketch(Plane.XZ):
        Polygon((100.076, -50.8), (100.076, 0), (76.2, 0), (76.2, 50.8), (25.4, 50.8), (25.4, 25.4), (50.8, 25.4), (50.8, 0), (25.4, 0), (25.4, -25.4), (50.8, -25.4), (50.8, -50.8), align=None)
    extrude(amount=-F13_DEPTH)


solid = Compound([f5.part, f8.part, f8b.part, f1_1.part, f13.part, f13b.part])
